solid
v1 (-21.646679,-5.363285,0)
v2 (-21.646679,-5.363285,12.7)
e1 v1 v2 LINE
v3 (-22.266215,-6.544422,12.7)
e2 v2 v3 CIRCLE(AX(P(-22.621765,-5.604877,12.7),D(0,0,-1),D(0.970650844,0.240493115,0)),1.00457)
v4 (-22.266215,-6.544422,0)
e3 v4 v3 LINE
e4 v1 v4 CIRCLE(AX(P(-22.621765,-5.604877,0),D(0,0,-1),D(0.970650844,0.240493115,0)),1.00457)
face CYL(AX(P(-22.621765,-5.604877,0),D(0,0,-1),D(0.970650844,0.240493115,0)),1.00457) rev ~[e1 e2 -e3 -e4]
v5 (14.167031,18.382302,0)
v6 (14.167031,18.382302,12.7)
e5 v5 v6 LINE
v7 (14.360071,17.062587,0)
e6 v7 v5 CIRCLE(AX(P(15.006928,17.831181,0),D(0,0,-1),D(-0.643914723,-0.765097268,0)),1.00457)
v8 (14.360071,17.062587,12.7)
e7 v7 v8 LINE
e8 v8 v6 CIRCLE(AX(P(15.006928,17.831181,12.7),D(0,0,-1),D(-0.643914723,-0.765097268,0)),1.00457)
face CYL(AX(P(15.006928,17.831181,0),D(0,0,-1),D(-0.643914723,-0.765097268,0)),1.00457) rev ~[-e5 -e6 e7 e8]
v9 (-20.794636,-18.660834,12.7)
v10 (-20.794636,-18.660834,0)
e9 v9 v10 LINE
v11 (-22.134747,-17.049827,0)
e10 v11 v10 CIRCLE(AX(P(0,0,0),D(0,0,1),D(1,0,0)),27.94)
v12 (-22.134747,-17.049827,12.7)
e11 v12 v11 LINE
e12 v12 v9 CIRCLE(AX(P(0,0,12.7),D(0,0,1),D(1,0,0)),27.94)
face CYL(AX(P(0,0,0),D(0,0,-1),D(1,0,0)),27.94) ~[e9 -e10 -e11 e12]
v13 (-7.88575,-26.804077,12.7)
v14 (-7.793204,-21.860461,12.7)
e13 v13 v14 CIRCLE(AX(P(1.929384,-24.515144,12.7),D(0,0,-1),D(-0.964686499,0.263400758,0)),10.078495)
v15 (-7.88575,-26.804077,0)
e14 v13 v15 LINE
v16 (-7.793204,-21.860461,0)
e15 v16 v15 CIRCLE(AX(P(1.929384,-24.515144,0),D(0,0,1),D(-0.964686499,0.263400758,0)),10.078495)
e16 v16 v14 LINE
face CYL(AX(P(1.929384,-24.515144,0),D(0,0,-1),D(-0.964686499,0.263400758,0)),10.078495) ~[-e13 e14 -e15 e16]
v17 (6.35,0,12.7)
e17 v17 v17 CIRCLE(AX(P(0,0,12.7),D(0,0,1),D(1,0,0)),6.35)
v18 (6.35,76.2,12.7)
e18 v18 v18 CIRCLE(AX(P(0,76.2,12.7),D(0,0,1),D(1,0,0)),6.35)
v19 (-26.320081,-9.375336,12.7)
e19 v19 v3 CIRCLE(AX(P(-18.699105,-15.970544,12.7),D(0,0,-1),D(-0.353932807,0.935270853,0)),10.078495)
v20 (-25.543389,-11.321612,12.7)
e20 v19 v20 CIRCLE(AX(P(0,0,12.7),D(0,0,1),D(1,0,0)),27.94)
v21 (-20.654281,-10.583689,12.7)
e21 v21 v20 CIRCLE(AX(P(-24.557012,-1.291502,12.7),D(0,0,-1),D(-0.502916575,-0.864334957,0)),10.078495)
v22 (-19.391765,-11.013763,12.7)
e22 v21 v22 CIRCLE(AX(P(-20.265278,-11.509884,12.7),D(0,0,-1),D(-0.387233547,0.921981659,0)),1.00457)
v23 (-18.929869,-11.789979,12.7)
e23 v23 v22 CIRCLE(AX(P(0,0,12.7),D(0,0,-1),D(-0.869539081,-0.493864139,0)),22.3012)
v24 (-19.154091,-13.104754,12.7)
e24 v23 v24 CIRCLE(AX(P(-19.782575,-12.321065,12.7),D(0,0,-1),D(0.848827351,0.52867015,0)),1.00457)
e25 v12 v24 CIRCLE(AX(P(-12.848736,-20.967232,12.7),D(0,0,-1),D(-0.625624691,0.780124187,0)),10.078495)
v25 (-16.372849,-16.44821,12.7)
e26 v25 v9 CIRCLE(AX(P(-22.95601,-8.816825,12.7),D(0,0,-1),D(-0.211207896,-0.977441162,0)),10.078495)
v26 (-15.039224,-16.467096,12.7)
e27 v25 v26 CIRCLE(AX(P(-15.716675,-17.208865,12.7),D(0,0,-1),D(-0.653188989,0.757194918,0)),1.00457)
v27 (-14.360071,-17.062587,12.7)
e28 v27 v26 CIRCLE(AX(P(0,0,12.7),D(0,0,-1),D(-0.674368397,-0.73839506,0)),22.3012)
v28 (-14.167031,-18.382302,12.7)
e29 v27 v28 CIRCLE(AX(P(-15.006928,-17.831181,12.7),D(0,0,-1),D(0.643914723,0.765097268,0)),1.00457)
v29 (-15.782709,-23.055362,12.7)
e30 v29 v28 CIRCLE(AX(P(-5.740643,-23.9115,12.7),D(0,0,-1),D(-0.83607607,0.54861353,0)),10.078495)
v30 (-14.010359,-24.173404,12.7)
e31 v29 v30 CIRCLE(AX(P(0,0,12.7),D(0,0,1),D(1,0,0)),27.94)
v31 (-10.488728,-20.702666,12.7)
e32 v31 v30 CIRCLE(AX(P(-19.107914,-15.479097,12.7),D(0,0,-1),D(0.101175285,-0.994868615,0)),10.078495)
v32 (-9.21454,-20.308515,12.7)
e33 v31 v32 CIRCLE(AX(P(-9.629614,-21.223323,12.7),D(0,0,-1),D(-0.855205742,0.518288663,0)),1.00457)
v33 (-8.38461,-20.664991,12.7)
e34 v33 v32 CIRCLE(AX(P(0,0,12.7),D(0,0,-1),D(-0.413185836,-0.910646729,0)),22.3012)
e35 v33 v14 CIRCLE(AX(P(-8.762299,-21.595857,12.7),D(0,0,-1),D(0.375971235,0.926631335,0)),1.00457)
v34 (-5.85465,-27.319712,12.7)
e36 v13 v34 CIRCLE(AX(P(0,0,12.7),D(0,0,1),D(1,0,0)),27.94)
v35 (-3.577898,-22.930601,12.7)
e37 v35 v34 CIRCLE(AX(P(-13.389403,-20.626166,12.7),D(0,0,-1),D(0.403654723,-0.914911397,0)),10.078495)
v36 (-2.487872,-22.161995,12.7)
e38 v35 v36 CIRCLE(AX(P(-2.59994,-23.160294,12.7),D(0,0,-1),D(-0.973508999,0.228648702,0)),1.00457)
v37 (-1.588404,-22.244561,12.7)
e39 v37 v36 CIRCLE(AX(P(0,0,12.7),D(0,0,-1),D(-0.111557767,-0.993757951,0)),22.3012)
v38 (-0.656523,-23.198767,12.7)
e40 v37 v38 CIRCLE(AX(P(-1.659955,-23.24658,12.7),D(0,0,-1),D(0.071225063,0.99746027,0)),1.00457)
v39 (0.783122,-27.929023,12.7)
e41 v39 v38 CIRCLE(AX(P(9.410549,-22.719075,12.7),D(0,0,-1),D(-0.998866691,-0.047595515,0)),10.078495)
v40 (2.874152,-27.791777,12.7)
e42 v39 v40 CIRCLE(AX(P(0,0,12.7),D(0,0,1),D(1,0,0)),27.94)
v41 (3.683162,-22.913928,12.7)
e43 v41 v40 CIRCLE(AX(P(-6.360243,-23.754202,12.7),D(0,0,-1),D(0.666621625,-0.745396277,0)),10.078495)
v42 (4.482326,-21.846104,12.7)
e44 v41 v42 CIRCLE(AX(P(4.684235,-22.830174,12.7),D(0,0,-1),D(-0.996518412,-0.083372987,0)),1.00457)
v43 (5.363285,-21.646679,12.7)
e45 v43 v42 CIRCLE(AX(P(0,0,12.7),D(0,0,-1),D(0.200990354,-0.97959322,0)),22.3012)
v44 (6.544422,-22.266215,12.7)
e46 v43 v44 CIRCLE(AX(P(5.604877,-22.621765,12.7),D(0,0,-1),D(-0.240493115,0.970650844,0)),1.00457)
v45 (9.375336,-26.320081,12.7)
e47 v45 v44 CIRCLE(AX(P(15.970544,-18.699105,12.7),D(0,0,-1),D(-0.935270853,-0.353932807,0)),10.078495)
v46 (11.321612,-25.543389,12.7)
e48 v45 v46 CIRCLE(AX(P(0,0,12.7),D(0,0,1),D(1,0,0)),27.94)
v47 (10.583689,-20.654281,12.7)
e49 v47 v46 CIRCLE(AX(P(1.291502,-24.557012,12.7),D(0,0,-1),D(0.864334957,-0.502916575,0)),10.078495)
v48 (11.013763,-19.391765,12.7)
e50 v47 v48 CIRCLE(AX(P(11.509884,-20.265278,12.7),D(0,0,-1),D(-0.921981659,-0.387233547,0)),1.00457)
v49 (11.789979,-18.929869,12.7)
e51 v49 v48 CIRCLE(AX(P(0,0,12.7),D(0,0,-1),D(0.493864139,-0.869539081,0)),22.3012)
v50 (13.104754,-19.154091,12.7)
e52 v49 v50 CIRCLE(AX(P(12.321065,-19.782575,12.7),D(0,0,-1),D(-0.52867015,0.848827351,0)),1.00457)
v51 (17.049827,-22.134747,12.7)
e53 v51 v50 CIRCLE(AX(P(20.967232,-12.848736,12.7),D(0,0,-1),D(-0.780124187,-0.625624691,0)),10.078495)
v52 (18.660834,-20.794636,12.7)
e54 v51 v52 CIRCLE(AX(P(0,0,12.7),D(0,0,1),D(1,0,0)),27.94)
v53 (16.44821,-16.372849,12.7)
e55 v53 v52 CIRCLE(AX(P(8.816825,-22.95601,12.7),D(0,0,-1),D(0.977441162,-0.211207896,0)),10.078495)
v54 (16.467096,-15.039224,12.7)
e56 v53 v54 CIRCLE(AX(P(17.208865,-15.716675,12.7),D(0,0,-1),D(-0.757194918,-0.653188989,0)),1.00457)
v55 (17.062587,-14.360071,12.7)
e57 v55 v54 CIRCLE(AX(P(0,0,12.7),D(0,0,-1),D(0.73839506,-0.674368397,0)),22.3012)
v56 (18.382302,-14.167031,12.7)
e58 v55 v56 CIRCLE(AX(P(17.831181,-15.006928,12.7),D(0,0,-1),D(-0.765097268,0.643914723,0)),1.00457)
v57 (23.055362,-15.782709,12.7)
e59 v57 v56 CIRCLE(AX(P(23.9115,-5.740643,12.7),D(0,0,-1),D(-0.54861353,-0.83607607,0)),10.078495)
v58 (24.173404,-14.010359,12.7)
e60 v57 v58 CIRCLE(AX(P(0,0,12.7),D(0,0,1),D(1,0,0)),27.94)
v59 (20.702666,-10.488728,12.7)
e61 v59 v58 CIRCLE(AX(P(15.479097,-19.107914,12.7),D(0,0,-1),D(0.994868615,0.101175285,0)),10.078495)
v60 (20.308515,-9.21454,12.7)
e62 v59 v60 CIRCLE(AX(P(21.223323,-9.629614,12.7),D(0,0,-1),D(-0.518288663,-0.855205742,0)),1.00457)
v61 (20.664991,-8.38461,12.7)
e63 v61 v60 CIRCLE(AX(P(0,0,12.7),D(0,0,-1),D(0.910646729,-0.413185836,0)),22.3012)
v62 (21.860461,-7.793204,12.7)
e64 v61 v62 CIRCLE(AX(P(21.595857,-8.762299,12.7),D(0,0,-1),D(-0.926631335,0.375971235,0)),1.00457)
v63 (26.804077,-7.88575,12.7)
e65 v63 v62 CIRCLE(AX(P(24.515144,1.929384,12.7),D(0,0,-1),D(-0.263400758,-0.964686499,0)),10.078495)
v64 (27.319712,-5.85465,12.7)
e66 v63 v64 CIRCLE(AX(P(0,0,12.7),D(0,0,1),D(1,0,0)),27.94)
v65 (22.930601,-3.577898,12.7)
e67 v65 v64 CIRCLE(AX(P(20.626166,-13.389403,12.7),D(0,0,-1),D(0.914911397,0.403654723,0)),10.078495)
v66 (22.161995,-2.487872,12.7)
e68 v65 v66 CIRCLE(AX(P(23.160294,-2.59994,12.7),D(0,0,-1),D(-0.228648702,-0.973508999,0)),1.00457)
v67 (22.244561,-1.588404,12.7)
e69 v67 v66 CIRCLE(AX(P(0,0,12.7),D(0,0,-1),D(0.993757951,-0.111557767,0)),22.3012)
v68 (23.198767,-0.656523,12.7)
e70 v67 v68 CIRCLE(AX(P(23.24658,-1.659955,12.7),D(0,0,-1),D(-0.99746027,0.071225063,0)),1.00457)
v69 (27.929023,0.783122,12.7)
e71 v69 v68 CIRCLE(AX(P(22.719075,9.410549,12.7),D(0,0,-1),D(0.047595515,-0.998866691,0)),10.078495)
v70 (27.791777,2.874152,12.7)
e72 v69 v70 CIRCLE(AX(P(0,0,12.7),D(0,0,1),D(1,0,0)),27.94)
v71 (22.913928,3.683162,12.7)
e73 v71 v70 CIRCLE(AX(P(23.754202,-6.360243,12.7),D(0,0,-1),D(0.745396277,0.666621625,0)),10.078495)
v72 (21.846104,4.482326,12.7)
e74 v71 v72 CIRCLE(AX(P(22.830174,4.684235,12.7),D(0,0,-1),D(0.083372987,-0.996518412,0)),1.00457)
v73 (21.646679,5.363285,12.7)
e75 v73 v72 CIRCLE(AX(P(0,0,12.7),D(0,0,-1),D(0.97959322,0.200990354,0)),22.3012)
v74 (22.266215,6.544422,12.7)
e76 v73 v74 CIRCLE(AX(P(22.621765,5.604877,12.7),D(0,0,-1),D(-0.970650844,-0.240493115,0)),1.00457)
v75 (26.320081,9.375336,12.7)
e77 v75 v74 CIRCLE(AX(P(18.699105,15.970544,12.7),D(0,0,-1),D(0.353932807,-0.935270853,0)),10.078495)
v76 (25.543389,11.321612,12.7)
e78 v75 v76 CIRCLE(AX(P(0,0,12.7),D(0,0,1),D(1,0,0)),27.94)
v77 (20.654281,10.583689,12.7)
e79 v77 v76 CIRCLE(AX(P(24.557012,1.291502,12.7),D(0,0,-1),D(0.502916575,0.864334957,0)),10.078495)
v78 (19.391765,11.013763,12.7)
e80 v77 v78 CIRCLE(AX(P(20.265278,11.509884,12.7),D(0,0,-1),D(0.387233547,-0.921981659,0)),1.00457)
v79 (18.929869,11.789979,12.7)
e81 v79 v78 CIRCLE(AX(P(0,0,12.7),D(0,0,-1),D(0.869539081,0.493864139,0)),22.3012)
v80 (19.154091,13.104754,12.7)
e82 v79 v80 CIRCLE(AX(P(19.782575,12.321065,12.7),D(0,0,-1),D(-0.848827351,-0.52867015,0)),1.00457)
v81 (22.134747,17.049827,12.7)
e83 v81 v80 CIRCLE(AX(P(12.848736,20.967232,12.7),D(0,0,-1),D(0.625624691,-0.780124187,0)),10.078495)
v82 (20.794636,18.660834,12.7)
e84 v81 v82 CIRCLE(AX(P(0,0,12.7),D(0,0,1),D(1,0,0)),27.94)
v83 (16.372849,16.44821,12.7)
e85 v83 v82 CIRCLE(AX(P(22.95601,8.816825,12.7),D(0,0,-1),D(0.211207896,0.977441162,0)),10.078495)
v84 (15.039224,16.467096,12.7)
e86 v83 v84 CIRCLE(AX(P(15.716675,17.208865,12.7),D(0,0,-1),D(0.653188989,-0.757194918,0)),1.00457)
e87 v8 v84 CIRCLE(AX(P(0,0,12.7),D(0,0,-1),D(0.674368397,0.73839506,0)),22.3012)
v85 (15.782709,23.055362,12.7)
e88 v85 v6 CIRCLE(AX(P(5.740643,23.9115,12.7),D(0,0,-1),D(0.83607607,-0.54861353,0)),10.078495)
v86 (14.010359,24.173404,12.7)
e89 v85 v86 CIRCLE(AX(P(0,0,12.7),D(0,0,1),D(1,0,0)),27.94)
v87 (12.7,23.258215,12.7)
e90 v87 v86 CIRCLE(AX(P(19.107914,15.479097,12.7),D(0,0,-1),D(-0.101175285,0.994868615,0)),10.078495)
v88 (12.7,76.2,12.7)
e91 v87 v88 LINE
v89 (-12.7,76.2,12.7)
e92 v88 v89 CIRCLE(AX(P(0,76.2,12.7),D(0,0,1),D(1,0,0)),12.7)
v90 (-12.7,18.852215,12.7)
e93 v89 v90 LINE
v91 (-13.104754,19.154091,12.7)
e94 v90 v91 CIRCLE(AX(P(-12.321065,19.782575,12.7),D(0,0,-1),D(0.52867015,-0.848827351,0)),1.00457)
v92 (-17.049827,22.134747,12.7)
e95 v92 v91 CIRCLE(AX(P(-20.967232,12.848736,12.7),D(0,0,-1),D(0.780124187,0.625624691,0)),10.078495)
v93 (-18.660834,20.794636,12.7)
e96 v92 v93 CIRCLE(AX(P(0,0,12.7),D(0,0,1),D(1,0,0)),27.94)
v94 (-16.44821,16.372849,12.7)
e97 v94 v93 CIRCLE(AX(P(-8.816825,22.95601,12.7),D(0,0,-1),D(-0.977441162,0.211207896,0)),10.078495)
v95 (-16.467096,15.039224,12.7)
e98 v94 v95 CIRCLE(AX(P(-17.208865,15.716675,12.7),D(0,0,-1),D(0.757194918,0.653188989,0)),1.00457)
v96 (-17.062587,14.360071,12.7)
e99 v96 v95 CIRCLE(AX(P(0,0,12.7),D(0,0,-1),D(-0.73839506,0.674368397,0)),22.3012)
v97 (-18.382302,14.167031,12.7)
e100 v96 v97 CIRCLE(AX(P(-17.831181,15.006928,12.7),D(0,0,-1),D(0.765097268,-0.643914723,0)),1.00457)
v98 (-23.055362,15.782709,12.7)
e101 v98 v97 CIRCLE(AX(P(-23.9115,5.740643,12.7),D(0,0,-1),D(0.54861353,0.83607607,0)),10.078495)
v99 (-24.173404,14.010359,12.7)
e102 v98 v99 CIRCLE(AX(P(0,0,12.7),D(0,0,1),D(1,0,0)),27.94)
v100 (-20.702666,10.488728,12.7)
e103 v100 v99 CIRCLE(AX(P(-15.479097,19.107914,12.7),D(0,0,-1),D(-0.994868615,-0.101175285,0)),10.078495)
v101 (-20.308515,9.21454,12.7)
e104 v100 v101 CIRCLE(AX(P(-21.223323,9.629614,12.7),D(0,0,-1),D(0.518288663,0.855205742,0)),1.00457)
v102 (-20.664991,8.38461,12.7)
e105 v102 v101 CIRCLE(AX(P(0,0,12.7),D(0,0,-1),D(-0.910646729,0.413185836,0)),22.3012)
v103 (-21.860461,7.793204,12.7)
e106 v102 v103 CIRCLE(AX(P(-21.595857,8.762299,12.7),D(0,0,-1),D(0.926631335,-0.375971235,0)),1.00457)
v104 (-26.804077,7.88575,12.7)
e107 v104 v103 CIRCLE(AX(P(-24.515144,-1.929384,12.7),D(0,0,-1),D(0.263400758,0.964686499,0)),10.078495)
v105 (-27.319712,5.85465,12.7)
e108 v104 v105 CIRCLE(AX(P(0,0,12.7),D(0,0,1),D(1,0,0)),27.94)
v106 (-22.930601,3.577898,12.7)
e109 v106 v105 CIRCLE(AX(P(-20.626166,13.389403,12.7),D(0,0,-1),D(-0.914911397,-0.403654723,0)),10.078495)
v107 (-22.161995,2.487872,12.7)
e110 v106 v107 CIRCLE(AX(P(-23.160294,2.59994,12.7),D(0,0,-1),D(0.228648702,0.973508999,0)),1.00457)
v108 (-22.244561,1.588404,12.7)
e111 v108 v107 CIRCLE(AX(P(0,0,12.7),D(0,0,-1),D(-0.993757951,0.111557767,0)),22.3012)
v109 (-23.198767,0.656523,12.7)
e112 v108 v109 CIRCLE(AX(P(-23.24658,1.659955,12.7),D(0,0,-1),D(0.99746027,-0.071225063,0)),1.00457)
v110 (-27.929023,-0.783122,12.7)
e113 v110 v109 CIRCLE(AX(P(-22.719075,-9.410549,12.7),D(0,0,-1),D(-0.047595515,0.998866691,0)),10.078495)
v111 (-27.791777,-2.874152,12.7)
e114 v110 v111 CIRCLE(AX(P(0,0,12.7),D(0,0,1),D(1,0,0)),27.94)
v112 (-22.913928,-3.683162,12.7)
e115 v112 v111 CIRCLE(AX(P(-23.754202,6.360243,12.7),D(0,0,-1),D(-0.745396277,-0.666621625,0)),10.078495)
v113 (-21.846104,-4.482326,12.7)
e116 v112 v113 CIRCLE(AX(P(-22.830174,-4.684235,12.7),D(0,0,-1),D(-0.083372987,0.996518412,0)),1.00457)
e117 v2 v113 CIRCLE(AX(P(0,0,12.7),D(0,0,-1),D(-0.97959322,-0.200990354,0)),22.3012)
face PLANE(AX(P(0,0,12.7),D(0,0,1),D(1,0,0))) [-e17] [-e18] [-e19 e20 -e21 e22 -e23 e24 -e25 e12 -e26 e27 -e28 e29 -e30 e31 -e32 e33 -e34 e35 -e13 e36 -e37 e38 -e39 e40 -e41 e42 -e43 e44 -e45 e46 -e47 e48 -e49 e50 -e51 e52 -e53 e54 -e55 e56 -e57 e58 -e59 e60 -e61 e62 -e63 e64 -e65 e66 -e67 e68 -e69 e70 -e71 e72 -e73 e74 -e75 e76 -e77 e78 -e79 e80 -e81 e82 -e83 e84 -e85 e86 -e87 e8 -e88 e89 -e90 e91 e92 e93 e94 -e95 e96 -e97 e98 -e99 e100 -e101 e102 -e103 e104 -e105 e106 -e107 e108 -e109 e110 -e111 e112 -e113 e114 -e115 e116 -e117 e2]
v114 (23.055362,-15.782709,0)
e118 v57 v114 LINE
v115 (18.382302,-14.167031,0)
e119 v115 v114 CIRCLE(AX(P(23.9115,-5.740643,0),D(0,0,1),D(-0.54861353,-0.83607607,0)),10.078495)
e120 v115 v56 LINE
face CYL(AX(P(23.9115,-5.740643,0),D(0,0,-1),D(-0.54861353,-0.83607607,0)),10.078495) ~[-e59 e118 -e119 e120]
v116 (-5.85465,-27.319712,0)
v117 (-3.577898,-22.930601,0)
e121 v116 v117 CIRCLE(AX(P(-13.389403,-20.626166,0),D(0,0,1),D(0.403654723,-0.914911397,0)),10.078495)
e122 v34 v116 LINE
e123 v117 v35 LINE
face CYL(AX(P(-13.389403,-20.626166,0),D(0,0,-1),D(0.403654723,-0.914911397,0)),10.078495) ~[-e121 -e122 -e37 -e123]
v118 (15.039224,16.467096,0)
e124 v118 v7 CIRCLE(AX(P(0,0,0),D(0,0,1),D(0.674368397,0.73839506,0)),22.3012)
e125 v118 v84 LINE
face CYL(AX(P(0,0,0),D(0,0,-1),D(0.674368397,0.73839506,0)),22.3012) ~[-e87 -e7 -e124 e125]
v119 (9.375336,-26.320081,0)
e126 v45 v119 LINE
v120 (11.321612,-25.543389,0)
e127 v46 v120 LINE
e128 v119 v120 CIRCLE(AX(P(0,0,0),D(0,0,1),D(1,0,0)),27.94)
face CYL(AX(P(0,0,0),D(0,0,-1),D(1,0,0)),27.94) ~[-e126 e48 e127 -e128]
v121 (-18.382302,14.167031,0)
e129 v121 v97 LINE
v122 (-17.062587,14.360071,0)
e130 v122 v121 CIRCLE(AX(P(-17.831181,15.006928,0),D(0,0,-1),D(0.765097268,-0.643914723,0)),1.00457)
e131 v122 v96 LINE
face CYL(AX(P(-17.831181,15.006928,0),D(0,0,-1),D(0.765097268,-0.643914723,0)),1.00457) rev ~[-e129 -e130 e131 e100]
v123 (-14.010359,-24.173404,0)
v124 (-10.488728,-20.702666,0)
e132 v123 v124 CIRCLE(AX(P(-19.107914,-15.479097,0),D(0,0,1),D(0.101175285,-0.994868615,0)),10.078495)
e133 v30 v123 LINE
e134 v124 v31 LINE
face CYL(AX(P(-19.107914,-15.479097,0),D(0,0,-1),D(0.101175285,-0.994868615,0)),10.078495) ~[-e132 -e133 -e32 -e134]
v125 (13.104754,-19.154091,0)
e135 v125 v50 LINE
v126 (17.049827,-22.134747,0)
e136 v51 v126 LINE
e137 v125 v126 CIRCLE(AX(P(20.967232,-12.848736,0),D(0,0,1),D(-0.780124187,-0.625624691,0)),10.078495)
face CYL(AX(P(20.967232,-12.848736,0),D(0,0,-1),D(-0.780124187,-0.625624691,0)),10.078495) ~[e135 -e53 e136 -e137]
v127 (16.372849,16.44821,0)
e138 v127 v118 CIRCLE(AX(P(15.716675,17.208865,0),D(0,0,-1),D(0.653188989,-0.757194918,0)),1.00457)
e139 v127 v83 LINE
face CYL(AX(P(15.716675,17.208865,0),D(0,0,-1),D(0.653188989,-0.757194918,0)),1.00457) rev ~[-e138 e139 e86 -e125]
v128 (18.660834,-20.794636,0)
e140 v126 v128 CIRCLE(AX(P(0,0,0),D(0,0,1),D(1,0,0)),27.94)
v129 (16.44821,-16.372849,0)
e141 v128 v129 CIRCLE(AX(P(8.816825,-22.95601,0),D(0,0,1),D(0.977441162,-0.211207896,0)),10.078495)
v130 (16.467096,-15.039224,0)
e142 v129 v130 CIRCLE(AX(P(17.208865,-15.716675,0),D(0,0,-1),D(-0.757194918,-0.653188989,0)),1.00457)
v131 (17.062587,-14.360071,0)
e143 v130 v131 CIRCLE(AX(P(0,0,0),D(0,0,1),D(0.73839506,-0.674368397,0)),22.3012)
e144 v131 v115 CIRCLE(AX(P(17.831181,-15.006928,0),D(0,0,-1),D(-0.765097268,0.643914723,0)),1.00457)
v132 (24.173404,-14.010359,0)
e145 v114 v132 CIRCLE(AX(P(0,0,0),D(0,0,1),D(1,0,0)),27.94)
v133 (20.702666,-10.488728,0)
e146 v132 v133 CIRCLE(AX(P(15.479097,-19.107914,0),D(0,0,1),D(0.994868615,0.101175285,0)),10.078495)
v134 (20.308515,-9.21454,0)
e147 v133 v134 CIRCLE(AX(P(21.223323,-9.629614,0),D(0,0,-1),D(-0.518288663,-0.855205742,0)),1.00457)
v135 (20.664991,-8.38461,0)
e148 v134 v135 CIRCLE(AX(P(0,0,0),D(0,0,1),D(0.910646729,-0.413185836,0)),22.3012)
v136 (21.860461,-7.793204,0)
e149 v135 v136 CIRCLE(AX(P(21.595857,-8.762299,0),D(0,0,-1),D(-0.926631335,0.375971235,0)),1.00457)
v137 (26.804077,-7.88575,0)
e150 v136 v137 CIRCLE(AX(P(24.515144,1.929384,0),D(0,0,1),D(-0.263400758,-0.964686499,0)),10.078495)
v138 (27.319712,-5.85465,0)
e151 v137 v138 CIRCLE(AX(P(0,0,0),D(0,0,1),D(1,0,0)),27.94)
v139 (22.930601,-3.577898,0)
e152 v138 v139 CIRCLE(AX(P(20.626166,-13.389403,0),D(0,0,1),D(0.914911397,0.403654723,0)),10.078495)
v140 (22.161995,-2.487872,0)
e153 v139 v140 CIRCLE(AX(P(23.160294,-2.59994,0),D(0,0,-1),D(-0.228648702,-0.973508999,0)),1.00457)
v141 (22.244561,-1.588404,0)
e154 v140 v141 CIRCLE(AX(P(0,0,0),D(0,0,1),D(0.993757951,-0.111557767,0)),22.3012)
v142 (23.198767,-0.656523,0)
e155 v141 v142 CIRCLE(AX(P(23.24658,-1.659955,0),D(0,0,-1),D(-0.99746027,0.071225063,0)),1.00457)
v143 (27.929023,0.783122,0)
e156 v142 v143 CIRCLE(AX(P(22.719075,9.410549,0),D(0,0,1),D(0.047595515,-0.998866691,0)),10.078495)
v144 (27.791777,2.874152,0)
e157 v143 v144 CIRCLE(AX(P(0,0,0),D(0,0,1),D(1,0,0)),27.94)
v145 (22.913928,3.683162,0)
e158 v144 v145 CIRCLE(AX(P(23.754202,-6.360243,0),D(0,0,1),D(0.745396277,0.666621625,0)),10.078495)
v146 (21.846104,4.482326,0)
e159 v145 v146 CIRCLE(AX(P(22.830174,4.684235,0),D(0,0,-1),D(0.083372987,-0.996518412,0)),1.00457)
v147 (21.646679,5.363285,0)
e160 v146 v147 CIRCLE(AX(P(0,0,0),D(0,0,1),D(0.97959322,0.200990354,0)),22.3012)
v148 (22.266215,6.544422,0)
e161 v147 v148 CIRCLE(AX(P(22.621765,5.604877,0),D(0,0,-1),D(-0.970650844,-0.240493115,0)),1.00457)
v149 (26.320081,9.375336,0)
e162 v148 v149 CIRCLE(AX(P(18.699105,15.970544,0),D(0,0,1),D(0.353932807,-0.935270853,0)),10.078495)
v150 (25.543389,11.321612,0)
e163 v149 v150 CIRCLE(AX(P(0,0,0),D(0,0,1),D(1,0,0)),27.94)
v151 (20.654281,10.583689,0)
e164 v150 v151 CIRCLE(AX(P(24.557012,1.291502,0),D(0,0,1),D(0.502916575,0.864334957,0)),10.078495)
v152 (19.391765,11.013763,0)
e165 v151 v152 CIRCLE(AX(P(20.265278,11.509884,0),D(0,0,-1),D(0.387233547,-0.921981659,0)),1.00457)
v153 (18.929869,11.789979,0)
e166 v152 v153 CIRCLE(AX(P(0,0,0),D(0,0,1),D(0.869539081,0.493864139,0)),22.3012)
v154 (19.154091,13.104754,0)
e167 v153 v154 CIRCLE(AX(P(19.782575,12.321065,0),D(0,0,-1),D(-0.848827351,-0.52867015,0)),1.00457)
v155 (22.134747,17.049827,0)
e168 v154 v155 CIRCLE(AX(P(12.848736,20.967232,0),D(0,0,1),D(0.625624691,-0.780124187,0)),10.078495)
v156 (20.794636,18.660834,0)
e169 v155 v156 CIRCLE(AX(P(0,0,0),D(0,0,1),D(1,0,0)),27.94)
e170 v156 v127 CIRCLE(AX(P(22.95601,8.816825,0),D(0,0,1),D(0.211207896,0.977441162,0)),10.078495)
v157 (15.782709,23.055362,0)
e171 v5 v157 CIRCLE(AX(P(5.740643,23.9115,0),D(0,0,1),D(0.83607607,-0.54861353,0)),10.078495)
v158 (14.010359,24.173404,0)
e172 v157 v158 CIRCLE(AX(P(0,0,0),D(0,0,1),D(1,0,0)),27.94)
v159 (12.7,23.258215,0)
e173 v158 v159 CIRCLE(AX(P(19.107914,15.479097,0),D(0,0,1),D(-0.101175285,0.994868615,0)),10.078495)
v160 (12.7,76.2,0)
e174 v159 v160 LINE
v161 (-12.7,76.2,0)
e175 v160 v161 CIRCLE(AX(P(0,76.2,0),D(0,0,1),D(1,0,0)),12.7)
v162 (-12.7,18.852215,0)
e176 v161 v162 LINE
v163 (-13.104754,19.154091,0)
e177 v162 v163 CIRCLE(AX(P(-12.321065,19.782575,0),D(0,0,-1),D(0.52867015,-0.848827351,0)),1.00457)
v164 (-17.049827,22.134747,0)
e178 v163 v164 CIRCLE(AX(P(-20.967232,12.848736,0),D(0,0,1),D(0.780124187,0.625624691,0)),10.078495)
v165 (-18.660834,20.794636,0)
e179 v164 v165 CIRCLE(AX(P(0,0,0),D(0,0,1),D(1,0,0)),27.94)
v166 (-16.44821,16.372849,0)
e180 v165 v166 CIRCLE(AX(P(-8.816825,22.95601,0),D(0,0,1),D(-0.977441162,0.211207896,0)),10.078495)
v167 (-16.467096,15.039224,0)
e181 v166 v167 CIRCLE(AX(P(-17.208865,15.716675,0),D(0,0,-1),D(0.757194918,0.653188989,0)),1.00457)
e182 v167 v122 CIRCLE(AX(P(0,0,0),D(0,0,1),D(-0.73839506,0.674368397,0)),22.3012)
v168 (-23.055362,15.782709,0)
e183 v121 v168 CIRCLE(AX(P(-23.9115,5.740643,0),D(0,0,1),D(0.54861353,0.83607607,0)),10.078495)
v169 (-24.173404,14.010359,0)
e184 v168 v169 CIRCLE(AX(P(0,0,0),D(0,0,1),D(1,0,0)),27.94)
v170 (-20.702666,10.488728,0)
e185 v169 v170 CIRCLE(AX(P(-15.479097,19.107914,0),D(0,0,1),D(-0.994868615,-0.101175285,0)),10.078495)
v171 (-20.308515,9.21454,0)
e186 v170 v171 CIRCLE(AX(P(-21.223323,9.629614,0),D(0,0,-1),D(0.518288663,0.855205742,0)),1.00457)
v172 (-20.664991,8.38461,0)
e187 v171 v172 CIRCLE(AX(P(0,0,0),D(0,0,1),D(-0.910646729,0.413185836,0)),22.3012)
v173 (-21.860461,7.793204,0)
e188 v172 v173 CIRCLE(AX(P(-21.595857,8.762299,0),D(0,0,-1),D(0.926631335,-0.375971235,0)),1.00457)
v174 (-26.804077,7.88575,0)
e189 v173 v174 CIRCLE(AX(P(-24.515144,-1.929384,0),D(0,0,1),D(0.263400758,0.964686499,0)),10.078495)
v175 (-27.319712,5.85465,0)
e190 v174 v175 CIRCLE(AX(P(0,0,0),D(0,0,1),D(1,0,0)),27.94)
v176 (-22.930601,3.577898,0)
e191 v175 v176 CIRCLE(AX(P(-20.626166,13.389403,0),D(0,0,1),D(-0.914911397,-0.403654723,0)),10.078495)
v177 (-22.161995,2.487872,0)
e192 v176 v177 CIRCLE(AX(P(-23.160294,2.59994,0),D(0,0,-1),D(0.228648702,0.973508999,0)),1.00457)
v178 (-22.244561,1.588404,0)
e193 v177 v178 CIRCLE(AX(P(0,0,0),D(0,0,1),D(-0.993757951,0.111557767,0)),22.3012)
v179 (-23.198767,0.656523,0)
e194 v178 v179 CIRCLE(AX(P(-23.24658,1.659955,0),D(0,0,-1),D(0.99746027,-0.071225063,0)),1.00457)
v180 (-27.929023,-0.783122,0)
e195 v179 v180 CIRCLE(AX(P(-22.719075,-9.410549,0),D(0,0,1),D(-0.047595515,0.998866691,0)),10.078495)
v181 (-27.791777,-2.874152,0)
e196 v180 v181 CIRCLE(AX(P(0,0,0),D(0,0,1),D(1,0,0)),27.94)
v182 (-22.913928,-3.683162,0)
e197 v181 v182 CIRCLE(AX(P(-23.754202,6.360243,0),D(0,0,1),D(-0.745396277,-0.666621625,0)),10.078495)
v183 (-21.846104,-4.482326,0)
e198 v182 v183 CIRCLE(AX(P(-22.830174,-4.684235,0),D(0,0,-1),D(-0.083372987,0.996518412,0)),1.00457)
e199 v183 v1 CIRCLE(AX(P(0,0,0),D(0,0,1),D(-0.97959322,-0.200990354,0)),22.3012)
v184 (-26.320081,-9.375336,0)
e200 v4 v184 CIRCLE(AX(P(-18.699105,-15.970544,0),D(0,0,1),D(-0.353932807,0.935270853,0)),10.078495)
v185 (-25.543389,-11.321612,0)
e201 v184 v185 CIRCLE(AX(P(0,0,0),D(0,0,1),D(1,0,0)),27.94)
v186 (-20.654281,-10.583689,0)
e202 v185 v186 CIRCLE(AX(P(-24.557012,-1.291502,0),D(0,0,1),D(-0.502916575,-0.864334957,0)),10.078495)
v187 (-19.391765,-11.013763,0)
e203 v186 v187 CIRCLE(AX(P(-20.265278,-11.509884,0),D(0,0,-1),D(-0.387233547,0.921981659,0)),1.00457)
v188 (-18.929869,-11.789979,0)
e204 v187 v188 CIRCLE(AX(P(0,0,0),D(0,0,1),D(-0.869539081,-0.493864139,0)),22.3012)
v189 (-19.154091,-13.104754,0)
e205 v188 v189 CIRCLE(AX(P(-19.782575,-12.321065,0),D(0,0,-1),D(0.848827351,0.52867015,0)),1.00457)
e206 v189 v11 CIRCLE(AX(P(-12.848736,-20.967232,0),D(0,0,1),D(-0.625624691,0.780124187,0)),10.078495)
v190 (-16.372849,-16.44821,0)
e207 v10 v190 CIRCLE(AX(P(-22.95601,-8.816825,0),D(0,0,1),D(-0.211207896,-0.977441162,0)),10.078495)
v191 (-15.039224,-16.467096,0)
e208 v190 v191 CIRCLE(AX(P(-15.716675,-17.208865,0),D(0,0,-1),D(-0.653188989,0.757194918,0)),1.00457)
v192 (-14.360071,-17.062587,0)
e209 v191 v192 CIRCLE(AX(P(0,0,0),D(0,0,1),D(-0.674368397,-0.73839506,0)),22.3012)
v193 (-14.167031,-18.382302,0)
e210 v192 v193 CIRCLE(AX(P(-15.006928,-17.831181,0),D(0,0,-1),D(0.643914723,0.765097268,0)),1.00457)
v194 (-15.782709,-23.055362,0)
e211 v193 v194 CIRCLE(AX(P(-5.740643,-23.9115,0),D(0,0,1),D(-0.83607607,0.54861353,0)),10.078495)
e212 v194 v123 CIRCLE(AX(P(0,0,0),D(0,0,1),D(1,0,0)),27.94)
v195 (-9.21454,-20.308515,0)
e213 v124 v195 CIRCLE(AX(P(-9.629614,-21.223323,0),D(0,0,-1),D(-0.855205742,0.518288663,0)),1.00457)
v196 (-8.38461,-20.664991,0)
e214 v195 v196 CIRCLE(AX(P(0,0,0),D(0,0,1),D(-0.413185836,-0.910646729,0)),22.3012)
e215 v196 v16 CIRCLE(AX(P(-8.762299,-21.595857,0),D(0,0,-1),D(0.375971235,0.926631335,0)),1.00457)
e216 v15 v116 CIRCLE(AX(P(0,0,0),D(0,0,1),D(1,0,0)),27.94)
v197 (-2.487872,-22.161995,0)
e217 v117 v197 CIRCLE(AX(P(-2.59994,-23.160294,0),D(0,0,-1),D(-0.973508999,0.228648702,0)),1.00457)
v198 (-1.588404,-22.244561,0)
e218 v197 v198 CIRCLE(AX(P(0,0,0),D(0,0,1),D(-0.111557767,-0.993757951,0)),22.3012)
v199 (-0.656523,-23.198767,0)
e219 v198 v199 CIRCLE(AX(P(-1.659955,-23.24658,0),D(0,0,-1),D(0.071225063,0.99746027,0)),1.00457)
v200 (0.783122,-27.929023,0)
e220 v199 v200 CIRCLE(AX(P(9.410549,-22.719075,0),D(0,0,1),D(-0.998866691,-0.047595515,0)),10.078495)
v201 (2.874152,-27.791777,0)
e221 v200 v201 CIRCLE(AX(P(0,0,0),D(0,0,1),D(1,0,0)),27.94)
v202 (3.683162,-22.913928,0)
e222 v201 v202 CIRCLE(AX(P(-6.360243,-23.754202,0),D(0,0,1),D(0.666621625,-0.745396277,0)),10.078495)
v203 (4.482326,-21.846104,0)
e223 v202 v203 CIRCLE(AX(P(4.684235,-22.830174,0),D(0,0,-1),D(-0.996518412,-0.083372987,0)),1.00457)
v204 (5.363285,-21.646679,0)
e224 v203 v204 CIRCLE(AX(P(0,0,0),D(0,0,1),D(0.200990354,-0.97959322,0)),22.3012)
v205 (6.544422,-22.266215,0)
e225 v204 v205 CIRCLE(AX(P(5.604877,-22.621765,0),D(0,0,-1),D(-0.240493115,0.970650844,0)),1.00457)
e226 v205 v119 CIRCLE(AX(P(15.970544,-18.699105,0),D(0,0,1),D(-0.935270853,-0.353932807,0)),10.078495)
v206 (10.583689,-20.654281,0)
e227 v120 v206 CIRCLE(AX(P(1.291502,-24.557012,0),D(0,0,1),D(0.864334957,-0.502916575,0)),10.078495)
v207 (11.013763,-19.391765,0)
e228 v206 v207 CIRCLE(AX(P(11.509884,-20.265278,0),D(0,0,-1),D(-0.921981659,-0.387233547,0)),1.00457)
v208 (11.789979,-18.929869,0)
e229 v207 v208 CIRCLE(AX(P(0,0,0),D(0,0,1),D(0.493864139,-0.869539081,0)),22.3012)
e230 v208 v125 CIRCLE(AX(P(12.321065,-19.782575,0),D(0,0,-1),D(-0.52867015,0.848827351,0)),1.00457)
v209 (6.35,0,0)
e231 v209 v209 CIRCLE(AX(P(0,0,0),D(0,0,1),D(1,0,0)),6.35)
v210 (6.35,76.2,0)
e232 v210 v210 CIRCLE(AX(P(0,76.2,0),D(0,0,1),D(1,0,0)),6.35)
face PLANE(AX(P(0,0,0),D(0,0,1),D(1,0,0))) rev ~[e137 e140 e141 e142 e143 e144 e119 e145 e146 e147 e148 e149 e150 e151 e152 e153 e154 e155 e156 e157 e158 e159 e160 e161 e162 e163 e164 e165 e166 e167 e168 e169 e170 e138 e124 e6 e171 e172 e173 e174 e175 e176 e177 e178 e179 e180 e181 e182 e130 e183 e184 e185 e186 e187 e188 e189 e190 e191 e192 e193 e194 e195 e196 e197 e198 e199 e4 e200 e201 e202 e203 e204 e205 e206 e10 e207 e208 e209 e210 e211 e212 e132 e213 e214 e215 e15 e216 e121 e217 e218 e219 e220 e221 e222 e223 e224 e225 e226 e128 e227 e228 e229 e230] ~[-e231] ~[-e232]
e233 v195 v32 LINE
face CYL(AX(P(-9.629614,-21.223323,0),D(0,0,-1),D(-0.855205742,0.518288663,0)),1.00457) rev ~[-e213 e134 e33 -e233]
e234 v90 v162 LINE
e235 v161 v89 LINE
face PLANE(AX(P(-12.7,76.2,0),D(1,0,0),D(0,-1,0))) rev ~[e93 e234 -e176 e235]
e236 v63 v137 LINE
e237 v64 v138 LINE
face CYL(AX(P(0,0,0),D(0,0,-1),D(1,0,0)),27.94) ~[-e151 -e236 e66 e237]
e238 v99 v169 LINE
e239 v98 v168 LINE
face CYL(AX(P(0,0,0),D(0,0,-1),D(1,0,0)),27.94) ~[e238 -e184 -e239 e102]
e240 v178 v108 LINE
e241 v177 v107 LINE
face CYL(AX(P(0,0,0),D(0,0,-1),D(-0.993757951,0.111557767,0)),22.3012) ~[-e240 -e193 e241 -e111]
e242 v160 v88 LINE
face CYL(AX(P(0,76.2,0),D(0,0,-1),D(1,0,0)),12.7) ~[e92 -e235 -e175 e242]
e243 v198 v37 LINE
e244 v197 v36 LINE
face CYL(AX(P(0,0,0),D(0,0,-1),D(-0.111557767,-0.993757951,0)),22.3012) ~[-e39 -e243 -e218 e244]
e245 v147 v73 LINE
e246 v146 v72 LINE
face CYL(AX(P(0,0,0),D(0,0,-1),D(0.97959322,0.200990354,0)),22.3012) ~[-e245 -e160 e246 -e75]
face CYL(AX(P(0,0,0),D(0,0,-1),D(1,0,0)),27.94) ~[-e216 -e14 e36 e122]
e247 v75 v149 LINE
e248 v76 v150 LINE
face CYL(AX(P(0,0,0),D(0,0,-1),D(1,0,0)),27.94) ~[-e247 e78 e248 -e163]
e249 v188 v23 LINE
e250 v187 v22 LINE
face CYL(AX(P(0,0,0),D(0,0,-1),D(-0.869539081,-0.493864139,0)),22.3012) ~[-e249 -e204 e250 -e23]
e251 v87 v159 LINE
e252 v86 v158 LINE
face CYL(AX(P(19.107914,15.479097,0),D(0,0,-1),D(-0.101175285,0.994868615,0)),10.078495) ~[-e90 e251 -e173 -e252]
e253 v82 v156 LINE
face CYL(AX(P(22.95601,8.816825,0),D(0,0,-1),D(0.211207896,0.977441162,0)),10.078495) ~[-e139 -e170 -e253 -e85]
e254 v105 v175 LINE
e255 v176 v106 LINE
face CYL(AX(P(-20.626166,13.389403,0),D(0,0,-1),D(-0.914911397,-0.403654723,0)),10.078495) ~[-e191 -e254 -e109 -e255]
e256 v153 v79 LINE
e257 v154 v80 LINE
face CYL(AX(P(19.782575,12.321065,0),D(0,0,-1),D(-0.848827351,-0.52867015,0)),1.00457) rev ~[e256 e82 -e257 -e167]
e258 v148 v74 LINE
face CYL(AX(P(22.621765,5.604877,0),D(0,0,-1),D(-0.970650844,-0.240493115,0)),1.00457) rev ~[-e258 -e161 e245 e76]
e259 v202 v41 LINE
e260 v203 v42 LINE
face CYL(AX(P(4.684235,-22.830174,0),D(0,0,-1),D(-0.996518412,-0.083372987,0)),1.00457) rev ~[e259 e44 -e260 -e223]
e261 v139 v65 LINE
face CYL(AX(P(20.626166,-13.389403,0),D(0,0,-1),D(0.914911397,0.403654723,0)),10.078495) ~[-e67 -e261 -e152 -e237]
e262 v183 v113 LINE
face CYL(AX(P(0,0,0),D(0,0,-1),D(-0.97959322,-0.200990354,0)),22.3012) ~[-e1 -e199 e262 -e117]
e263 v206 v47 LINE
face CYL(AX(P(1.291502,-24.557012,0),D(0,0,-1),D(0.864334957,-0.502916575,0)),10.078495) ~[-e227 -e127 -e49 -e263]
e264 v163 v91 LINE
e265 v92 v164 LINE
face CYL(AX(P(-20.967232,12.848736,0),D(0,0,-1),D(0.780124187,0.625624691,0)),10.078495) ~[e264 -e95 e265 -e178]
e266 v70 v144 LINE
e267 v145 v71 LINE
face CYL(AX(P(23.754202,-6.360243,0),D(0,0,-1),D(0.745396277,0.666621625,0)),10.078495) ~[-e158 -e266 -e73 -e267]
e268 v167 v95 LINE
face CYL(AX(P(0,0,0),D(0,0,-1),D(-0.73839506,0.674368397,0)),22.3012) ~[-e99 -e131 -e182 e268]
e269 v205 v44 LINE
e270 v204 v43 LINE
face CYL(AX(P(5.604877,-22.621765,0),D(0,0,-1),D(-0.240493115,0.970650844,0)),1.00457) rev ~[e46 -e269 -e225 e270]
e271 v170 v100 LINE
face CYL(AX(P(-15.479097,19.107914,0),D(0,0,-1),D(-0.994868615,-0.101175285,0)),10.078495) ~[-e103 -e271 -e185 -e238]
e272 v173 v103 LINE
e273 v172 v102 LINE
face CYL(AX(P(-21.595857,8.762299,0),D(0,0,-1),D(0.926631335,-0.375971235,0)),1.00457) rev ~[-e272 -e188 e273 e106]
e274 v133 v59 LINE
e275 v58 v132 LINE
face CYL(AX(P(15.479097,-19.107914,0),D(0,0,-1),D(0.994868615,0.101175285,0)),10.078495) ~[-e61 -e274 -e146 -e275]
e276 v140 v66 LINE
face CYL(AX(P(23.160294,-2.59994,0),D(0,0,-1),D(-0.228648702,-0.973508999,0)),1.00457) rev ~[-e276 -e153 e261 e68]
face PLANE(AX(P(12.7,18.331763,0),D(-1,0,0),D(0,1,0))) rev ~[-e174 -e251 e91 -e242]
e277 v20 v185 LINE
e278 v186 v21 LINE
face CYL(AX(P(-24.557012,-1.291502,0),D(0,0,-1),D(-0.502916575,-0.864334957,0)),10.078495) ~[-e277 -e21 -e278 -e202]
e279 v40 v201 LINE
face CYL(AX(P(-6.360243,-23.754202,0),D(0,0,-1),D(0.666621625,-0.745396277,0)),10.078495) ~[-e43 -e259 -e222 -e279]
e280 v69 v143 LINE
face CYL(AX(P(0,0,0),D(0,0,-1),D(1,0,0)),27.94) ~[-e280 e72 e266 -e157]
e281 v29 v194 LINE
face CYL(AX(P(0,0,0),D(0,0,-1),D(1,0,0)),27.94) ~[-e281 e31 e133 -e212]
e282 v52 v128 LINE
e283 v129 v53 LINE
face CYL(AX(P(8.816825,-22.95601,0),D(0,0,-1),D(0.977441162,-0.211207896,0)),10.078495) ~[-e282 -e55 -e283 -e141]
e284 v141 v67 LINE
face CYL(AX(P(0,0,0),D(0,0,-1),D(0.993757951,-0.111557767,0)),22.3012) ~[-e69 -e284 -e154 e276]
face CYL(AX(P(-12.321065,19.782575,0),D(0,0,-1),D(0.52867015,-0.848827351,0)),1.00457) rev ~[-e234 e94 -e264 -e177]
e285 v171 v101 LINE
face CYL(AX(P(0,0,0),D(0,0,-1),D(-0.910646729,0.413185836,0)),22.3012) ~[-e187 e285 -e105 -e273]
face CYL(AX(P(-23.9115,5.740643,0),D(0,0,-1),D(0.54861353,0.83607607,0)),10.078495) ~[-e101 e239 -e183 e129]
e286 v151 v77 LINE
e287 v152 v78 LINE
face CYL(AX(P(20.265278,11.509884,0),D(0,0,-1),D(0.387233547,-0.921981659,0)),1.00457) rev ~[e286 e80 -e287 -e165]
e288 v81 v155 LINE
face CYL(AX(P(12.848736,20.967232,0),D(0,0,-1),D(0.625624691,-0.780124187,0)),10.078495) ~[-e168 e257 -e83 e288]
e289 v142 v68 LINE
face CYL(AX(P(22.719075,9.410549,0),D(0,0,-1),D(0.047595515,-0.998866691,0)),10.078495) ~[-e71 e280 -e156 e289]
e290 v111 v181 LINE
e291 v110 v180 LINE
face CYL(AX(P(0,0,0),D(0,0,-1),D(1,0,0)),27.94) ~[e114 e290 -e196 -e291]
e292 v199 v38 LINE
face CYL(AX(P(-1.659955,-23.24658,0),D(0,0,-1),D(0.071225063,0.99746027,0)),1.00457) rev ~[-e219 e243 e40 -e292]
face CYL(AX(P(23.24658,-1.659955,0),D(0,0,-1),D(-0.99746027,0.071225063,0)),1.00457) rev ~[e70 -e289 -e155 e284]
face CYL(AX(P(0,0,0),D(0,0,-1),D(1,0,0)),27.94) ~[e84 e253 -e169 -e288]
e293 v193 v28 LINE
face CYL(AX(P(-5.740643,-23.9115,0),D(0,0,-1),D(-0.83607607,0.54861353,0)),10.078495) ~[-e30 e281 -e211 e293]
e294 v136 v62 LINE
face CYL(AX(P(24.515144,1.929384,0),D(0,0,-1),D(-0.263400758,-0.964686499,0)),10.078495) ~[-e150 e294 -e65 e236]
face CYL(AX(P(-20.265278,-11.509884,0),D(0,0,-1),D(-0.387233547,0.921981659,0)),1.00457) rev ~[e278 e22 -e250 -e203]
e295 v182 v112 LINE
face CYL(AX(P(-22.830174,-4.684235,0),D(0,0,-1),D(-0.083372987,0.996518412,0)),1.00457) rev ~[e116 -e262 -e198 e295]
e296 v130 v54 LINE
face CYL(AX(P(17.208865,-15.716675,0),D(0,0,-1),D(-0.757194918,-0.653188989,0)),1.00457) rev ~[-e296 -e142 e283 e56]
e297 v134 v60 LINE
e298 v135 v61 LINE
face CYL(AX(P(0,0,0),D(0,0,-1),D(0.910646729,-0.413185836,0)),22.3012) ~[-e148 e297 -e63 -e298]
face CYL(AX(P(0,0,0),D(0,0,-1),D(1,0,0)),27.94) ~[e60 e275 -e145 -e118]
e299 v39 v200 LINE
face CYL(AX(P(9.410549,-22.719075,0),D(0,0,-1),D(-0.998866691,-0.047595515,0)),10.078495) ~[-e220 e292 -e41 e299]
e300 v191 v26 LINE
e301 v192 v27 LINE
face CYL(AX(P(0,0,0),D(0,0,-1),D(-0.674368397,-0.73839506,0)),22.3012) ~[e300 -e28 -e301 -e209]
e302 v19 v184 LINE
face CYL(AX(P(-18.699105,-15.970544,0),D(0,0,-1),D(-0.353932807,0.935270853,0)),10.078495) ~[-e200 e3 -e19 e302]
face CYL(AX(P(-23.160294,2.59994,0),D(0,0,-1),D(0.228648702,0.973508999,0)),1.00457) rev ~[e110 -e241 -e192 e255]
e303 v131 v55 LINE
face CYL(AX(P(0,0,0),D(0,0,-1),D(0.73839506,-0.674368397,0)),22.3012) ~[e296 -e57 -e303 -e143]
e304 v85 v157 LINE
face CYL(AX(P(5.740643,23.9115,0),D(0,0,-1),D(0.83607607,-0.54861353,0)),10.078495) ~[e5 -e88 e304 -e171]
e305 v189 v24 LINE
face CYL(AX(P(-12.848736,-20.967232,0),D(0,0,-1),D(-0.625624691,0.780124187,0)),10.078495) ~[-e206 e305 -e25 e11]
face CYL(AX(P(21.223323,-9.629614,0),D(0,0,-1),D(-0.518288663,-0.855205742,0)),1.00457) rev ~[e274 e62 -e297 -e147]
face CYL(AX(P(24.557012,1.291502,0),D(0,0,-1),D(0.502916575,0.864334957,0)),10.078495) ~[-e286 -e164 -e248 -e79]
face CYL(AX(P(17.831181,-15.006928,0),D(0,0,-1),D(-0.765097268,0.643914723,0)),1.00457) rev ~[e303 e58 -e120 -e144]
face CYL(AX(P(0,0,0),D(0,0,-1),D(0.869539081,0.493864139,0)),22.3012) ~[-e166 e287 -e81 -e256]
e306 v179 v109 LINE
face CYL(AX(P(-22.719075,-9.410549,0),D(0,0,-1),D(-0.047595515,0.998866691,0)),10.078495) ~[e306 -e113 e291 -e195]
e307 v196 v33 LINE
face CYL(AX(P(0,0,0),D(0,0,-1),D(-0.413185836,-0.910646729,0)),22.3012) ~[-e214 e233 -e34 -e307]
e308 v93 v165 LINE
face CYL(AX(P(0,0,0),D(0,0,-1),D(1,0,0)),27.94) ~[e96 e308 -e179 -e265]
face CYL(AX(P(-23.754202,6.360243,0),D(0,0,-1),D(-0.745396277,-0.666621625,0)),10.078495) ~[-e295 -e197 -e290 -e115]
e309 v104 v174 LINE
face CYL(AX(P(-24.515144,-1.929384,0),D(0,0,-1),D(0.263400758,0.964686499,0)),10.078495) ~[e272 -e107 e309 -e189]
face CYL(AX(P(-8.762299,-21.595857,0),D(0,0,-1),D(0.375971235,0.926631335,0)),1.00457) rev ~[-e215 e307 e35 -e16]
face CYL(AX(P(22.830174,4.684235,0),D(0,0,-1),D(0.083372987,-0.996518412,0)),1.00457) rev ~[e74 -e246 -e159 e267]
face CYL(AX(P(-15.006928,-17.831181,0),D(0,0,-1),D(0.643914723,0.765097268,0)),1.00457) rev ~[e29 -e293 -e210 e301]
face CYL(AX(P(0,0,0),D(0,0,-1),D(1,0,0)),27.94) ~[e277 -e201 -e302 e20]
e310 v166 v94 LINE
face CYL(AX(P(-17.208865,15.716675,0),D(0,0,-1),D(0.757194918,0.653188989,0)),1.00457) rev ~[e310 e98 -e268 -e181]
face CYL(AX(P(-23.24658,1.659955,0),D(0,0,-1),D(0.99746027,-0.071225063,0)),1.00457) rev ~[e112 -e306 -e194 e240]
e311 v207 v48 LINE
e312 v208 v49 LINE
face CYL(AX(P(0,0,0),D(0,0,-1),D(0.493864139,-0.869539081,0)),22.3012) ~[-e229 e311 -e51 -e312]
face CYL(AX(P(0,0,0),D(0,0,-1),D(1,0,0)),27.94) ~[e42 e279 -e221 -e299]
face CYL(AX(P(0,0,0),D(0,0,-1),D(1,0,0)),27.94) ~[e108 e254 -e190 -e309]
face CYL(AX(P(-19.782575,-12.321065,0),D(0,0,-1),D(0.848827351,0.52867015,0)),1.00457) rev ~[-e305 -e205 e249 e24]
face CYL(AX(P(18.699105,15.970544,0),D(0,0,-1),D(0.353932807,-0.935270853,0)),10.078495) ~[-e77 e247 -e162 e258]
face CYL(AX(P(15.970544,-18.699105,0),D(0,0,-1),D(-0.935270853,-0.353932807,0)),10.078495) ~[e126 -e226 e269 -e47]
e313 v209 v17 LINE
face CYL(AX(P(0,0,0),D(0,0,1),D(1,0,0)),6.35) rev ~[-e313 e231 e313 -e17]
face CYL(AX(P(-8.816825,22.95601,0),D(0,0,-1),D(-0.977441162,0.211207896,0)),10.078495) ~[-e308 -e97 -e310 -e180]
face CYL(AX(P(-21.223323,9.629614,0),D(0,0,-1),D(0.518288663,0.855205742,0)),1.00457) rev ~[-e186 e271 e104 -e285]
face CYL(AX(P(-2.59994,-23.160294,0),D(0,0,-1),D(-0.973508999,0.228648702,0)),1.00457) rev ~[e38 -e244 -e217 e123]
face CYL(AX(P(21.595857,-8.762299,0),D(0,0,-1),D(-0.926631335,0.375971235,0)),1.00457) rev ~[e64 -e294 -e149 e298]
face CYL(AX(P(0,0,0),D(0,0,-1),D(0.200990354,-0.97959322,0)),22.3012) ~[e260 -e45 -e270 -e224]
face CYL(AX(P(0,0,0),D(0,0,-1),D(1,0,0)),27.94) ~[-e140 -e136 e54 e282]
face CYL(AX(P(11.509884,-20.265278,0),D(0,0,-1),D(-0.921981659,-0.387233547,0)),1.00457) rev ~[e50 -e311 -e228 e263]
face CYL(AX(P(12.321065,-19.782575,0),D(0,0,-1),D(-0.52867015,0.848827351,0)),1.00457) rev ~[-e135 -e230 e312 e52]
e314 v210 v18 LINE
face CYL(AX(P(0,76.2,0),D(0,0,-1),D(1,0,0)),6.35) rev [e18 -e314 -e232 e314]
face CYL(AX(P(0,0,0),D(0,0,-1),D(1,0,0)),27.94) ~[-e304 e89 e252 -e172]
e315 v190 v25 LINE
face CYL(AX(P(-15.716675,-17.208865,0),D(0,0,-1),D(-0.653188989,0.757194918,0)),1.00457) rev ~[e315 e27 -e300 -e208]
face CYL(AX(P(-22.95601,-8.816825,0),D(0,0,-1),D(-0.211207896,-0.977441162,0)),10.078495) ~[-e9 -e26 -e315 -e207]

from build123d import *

# Parameters (mm, degrees)
SKETCH3_R           = 27.94
GEARBODY_DEPTH      = 12.7
TOOTHCUT_DEPTH      = 13.7
CIRPATTERN1_COUNT   = 20
BOREDIA_R           = 6.35
BORE_DEPTH          = 12700
SKETCH4_R           = 6.35
BOSS_EXTRUDE1_DEPTH = 12.7


with BuildPart() as part:
    # Sketch3 → gearBody (new body)
    with BuildSketch(Plane.XY):
        Circle(SKETCH3_R)
    extrude(amount=GEARBODY_DEPTH)

    # Sketch2 → toothCut (cut, through all)
    with BuildSketch(Plane.XY):
        with BuildLine():
            ThreePointArc((22.161994813, -2.487872048), (22.207832173, -2.038556256), (22.244560977, -1.58840435))
            ThreePointArc((22.244560977, -1.58840435), (22.544698475, -0.941259068), (23.198766614, -0.656523398))
            ThreePointArc((23.198766614, -0.656523398), (27.638401864, 0.614170289), (31.045266607, 3.731588487))
            ThreePointArc((31.045266607, 3.731588487), (31.137815759, -2.858279396), (29.847095445, -9.321170787))
            ThreePointArc((29.847095445, -9.321170787), (27.064706273, -5.635613286), (22.930600611, -3.577897568))
            ThreePointArc((22.930600611, -3.577897568), (22.339300546, -3.17884398), (22.161994813, -2.487872048))
        make_face()
    toothcut = extrude(amount=TOOTHCUT_DEPTH, mode=Mode.SUBTRACT)

    # CirPattern1: toothCut ×20 about axis
    cirpattern1_axis = Axis((0, 0, 0), (0, 0, 1))
    for i in range(1, CIRPATTERN1_COUNT):
        add(toothcut.rotate(cirpattern1_axis, i * 360 / CIRPATTERN1_COUNT), mode=Mode.SUBTRACT)

    # boreDia → bore (cut, symmetric)
    with BuildSketch(Plane.XY):
        Circle(BOREDIA_R)
    extrude(amount=BORE_DEPTH, both=True, mode=Mode.SUBTRACT)

    # Sketch4 → Boss-Extrude1 (add)
    with BuildSketch(Plane.XY):
        with BuildLine():
            Line((12.7, 18.331762639), (12.7, 76.2))
            ThreePointArc((12.7, 76.2), (0, 88.9), (-12.7, 76.2))
            Line((-12.7, 76.2), (-12.7, 18.331762639))
            ThreePointArc((-12.7, 18.331762639), (0, 22.3012), (12.7, 18.331762639))
        make_face()
        with Locations((0, 76.2)):
            Circle(SKETCH4_R, mode=Mode.SUBTRACT)
    extrude(amount=BOSS_EXTRUDE1_DEPTH)


solid = part.part
